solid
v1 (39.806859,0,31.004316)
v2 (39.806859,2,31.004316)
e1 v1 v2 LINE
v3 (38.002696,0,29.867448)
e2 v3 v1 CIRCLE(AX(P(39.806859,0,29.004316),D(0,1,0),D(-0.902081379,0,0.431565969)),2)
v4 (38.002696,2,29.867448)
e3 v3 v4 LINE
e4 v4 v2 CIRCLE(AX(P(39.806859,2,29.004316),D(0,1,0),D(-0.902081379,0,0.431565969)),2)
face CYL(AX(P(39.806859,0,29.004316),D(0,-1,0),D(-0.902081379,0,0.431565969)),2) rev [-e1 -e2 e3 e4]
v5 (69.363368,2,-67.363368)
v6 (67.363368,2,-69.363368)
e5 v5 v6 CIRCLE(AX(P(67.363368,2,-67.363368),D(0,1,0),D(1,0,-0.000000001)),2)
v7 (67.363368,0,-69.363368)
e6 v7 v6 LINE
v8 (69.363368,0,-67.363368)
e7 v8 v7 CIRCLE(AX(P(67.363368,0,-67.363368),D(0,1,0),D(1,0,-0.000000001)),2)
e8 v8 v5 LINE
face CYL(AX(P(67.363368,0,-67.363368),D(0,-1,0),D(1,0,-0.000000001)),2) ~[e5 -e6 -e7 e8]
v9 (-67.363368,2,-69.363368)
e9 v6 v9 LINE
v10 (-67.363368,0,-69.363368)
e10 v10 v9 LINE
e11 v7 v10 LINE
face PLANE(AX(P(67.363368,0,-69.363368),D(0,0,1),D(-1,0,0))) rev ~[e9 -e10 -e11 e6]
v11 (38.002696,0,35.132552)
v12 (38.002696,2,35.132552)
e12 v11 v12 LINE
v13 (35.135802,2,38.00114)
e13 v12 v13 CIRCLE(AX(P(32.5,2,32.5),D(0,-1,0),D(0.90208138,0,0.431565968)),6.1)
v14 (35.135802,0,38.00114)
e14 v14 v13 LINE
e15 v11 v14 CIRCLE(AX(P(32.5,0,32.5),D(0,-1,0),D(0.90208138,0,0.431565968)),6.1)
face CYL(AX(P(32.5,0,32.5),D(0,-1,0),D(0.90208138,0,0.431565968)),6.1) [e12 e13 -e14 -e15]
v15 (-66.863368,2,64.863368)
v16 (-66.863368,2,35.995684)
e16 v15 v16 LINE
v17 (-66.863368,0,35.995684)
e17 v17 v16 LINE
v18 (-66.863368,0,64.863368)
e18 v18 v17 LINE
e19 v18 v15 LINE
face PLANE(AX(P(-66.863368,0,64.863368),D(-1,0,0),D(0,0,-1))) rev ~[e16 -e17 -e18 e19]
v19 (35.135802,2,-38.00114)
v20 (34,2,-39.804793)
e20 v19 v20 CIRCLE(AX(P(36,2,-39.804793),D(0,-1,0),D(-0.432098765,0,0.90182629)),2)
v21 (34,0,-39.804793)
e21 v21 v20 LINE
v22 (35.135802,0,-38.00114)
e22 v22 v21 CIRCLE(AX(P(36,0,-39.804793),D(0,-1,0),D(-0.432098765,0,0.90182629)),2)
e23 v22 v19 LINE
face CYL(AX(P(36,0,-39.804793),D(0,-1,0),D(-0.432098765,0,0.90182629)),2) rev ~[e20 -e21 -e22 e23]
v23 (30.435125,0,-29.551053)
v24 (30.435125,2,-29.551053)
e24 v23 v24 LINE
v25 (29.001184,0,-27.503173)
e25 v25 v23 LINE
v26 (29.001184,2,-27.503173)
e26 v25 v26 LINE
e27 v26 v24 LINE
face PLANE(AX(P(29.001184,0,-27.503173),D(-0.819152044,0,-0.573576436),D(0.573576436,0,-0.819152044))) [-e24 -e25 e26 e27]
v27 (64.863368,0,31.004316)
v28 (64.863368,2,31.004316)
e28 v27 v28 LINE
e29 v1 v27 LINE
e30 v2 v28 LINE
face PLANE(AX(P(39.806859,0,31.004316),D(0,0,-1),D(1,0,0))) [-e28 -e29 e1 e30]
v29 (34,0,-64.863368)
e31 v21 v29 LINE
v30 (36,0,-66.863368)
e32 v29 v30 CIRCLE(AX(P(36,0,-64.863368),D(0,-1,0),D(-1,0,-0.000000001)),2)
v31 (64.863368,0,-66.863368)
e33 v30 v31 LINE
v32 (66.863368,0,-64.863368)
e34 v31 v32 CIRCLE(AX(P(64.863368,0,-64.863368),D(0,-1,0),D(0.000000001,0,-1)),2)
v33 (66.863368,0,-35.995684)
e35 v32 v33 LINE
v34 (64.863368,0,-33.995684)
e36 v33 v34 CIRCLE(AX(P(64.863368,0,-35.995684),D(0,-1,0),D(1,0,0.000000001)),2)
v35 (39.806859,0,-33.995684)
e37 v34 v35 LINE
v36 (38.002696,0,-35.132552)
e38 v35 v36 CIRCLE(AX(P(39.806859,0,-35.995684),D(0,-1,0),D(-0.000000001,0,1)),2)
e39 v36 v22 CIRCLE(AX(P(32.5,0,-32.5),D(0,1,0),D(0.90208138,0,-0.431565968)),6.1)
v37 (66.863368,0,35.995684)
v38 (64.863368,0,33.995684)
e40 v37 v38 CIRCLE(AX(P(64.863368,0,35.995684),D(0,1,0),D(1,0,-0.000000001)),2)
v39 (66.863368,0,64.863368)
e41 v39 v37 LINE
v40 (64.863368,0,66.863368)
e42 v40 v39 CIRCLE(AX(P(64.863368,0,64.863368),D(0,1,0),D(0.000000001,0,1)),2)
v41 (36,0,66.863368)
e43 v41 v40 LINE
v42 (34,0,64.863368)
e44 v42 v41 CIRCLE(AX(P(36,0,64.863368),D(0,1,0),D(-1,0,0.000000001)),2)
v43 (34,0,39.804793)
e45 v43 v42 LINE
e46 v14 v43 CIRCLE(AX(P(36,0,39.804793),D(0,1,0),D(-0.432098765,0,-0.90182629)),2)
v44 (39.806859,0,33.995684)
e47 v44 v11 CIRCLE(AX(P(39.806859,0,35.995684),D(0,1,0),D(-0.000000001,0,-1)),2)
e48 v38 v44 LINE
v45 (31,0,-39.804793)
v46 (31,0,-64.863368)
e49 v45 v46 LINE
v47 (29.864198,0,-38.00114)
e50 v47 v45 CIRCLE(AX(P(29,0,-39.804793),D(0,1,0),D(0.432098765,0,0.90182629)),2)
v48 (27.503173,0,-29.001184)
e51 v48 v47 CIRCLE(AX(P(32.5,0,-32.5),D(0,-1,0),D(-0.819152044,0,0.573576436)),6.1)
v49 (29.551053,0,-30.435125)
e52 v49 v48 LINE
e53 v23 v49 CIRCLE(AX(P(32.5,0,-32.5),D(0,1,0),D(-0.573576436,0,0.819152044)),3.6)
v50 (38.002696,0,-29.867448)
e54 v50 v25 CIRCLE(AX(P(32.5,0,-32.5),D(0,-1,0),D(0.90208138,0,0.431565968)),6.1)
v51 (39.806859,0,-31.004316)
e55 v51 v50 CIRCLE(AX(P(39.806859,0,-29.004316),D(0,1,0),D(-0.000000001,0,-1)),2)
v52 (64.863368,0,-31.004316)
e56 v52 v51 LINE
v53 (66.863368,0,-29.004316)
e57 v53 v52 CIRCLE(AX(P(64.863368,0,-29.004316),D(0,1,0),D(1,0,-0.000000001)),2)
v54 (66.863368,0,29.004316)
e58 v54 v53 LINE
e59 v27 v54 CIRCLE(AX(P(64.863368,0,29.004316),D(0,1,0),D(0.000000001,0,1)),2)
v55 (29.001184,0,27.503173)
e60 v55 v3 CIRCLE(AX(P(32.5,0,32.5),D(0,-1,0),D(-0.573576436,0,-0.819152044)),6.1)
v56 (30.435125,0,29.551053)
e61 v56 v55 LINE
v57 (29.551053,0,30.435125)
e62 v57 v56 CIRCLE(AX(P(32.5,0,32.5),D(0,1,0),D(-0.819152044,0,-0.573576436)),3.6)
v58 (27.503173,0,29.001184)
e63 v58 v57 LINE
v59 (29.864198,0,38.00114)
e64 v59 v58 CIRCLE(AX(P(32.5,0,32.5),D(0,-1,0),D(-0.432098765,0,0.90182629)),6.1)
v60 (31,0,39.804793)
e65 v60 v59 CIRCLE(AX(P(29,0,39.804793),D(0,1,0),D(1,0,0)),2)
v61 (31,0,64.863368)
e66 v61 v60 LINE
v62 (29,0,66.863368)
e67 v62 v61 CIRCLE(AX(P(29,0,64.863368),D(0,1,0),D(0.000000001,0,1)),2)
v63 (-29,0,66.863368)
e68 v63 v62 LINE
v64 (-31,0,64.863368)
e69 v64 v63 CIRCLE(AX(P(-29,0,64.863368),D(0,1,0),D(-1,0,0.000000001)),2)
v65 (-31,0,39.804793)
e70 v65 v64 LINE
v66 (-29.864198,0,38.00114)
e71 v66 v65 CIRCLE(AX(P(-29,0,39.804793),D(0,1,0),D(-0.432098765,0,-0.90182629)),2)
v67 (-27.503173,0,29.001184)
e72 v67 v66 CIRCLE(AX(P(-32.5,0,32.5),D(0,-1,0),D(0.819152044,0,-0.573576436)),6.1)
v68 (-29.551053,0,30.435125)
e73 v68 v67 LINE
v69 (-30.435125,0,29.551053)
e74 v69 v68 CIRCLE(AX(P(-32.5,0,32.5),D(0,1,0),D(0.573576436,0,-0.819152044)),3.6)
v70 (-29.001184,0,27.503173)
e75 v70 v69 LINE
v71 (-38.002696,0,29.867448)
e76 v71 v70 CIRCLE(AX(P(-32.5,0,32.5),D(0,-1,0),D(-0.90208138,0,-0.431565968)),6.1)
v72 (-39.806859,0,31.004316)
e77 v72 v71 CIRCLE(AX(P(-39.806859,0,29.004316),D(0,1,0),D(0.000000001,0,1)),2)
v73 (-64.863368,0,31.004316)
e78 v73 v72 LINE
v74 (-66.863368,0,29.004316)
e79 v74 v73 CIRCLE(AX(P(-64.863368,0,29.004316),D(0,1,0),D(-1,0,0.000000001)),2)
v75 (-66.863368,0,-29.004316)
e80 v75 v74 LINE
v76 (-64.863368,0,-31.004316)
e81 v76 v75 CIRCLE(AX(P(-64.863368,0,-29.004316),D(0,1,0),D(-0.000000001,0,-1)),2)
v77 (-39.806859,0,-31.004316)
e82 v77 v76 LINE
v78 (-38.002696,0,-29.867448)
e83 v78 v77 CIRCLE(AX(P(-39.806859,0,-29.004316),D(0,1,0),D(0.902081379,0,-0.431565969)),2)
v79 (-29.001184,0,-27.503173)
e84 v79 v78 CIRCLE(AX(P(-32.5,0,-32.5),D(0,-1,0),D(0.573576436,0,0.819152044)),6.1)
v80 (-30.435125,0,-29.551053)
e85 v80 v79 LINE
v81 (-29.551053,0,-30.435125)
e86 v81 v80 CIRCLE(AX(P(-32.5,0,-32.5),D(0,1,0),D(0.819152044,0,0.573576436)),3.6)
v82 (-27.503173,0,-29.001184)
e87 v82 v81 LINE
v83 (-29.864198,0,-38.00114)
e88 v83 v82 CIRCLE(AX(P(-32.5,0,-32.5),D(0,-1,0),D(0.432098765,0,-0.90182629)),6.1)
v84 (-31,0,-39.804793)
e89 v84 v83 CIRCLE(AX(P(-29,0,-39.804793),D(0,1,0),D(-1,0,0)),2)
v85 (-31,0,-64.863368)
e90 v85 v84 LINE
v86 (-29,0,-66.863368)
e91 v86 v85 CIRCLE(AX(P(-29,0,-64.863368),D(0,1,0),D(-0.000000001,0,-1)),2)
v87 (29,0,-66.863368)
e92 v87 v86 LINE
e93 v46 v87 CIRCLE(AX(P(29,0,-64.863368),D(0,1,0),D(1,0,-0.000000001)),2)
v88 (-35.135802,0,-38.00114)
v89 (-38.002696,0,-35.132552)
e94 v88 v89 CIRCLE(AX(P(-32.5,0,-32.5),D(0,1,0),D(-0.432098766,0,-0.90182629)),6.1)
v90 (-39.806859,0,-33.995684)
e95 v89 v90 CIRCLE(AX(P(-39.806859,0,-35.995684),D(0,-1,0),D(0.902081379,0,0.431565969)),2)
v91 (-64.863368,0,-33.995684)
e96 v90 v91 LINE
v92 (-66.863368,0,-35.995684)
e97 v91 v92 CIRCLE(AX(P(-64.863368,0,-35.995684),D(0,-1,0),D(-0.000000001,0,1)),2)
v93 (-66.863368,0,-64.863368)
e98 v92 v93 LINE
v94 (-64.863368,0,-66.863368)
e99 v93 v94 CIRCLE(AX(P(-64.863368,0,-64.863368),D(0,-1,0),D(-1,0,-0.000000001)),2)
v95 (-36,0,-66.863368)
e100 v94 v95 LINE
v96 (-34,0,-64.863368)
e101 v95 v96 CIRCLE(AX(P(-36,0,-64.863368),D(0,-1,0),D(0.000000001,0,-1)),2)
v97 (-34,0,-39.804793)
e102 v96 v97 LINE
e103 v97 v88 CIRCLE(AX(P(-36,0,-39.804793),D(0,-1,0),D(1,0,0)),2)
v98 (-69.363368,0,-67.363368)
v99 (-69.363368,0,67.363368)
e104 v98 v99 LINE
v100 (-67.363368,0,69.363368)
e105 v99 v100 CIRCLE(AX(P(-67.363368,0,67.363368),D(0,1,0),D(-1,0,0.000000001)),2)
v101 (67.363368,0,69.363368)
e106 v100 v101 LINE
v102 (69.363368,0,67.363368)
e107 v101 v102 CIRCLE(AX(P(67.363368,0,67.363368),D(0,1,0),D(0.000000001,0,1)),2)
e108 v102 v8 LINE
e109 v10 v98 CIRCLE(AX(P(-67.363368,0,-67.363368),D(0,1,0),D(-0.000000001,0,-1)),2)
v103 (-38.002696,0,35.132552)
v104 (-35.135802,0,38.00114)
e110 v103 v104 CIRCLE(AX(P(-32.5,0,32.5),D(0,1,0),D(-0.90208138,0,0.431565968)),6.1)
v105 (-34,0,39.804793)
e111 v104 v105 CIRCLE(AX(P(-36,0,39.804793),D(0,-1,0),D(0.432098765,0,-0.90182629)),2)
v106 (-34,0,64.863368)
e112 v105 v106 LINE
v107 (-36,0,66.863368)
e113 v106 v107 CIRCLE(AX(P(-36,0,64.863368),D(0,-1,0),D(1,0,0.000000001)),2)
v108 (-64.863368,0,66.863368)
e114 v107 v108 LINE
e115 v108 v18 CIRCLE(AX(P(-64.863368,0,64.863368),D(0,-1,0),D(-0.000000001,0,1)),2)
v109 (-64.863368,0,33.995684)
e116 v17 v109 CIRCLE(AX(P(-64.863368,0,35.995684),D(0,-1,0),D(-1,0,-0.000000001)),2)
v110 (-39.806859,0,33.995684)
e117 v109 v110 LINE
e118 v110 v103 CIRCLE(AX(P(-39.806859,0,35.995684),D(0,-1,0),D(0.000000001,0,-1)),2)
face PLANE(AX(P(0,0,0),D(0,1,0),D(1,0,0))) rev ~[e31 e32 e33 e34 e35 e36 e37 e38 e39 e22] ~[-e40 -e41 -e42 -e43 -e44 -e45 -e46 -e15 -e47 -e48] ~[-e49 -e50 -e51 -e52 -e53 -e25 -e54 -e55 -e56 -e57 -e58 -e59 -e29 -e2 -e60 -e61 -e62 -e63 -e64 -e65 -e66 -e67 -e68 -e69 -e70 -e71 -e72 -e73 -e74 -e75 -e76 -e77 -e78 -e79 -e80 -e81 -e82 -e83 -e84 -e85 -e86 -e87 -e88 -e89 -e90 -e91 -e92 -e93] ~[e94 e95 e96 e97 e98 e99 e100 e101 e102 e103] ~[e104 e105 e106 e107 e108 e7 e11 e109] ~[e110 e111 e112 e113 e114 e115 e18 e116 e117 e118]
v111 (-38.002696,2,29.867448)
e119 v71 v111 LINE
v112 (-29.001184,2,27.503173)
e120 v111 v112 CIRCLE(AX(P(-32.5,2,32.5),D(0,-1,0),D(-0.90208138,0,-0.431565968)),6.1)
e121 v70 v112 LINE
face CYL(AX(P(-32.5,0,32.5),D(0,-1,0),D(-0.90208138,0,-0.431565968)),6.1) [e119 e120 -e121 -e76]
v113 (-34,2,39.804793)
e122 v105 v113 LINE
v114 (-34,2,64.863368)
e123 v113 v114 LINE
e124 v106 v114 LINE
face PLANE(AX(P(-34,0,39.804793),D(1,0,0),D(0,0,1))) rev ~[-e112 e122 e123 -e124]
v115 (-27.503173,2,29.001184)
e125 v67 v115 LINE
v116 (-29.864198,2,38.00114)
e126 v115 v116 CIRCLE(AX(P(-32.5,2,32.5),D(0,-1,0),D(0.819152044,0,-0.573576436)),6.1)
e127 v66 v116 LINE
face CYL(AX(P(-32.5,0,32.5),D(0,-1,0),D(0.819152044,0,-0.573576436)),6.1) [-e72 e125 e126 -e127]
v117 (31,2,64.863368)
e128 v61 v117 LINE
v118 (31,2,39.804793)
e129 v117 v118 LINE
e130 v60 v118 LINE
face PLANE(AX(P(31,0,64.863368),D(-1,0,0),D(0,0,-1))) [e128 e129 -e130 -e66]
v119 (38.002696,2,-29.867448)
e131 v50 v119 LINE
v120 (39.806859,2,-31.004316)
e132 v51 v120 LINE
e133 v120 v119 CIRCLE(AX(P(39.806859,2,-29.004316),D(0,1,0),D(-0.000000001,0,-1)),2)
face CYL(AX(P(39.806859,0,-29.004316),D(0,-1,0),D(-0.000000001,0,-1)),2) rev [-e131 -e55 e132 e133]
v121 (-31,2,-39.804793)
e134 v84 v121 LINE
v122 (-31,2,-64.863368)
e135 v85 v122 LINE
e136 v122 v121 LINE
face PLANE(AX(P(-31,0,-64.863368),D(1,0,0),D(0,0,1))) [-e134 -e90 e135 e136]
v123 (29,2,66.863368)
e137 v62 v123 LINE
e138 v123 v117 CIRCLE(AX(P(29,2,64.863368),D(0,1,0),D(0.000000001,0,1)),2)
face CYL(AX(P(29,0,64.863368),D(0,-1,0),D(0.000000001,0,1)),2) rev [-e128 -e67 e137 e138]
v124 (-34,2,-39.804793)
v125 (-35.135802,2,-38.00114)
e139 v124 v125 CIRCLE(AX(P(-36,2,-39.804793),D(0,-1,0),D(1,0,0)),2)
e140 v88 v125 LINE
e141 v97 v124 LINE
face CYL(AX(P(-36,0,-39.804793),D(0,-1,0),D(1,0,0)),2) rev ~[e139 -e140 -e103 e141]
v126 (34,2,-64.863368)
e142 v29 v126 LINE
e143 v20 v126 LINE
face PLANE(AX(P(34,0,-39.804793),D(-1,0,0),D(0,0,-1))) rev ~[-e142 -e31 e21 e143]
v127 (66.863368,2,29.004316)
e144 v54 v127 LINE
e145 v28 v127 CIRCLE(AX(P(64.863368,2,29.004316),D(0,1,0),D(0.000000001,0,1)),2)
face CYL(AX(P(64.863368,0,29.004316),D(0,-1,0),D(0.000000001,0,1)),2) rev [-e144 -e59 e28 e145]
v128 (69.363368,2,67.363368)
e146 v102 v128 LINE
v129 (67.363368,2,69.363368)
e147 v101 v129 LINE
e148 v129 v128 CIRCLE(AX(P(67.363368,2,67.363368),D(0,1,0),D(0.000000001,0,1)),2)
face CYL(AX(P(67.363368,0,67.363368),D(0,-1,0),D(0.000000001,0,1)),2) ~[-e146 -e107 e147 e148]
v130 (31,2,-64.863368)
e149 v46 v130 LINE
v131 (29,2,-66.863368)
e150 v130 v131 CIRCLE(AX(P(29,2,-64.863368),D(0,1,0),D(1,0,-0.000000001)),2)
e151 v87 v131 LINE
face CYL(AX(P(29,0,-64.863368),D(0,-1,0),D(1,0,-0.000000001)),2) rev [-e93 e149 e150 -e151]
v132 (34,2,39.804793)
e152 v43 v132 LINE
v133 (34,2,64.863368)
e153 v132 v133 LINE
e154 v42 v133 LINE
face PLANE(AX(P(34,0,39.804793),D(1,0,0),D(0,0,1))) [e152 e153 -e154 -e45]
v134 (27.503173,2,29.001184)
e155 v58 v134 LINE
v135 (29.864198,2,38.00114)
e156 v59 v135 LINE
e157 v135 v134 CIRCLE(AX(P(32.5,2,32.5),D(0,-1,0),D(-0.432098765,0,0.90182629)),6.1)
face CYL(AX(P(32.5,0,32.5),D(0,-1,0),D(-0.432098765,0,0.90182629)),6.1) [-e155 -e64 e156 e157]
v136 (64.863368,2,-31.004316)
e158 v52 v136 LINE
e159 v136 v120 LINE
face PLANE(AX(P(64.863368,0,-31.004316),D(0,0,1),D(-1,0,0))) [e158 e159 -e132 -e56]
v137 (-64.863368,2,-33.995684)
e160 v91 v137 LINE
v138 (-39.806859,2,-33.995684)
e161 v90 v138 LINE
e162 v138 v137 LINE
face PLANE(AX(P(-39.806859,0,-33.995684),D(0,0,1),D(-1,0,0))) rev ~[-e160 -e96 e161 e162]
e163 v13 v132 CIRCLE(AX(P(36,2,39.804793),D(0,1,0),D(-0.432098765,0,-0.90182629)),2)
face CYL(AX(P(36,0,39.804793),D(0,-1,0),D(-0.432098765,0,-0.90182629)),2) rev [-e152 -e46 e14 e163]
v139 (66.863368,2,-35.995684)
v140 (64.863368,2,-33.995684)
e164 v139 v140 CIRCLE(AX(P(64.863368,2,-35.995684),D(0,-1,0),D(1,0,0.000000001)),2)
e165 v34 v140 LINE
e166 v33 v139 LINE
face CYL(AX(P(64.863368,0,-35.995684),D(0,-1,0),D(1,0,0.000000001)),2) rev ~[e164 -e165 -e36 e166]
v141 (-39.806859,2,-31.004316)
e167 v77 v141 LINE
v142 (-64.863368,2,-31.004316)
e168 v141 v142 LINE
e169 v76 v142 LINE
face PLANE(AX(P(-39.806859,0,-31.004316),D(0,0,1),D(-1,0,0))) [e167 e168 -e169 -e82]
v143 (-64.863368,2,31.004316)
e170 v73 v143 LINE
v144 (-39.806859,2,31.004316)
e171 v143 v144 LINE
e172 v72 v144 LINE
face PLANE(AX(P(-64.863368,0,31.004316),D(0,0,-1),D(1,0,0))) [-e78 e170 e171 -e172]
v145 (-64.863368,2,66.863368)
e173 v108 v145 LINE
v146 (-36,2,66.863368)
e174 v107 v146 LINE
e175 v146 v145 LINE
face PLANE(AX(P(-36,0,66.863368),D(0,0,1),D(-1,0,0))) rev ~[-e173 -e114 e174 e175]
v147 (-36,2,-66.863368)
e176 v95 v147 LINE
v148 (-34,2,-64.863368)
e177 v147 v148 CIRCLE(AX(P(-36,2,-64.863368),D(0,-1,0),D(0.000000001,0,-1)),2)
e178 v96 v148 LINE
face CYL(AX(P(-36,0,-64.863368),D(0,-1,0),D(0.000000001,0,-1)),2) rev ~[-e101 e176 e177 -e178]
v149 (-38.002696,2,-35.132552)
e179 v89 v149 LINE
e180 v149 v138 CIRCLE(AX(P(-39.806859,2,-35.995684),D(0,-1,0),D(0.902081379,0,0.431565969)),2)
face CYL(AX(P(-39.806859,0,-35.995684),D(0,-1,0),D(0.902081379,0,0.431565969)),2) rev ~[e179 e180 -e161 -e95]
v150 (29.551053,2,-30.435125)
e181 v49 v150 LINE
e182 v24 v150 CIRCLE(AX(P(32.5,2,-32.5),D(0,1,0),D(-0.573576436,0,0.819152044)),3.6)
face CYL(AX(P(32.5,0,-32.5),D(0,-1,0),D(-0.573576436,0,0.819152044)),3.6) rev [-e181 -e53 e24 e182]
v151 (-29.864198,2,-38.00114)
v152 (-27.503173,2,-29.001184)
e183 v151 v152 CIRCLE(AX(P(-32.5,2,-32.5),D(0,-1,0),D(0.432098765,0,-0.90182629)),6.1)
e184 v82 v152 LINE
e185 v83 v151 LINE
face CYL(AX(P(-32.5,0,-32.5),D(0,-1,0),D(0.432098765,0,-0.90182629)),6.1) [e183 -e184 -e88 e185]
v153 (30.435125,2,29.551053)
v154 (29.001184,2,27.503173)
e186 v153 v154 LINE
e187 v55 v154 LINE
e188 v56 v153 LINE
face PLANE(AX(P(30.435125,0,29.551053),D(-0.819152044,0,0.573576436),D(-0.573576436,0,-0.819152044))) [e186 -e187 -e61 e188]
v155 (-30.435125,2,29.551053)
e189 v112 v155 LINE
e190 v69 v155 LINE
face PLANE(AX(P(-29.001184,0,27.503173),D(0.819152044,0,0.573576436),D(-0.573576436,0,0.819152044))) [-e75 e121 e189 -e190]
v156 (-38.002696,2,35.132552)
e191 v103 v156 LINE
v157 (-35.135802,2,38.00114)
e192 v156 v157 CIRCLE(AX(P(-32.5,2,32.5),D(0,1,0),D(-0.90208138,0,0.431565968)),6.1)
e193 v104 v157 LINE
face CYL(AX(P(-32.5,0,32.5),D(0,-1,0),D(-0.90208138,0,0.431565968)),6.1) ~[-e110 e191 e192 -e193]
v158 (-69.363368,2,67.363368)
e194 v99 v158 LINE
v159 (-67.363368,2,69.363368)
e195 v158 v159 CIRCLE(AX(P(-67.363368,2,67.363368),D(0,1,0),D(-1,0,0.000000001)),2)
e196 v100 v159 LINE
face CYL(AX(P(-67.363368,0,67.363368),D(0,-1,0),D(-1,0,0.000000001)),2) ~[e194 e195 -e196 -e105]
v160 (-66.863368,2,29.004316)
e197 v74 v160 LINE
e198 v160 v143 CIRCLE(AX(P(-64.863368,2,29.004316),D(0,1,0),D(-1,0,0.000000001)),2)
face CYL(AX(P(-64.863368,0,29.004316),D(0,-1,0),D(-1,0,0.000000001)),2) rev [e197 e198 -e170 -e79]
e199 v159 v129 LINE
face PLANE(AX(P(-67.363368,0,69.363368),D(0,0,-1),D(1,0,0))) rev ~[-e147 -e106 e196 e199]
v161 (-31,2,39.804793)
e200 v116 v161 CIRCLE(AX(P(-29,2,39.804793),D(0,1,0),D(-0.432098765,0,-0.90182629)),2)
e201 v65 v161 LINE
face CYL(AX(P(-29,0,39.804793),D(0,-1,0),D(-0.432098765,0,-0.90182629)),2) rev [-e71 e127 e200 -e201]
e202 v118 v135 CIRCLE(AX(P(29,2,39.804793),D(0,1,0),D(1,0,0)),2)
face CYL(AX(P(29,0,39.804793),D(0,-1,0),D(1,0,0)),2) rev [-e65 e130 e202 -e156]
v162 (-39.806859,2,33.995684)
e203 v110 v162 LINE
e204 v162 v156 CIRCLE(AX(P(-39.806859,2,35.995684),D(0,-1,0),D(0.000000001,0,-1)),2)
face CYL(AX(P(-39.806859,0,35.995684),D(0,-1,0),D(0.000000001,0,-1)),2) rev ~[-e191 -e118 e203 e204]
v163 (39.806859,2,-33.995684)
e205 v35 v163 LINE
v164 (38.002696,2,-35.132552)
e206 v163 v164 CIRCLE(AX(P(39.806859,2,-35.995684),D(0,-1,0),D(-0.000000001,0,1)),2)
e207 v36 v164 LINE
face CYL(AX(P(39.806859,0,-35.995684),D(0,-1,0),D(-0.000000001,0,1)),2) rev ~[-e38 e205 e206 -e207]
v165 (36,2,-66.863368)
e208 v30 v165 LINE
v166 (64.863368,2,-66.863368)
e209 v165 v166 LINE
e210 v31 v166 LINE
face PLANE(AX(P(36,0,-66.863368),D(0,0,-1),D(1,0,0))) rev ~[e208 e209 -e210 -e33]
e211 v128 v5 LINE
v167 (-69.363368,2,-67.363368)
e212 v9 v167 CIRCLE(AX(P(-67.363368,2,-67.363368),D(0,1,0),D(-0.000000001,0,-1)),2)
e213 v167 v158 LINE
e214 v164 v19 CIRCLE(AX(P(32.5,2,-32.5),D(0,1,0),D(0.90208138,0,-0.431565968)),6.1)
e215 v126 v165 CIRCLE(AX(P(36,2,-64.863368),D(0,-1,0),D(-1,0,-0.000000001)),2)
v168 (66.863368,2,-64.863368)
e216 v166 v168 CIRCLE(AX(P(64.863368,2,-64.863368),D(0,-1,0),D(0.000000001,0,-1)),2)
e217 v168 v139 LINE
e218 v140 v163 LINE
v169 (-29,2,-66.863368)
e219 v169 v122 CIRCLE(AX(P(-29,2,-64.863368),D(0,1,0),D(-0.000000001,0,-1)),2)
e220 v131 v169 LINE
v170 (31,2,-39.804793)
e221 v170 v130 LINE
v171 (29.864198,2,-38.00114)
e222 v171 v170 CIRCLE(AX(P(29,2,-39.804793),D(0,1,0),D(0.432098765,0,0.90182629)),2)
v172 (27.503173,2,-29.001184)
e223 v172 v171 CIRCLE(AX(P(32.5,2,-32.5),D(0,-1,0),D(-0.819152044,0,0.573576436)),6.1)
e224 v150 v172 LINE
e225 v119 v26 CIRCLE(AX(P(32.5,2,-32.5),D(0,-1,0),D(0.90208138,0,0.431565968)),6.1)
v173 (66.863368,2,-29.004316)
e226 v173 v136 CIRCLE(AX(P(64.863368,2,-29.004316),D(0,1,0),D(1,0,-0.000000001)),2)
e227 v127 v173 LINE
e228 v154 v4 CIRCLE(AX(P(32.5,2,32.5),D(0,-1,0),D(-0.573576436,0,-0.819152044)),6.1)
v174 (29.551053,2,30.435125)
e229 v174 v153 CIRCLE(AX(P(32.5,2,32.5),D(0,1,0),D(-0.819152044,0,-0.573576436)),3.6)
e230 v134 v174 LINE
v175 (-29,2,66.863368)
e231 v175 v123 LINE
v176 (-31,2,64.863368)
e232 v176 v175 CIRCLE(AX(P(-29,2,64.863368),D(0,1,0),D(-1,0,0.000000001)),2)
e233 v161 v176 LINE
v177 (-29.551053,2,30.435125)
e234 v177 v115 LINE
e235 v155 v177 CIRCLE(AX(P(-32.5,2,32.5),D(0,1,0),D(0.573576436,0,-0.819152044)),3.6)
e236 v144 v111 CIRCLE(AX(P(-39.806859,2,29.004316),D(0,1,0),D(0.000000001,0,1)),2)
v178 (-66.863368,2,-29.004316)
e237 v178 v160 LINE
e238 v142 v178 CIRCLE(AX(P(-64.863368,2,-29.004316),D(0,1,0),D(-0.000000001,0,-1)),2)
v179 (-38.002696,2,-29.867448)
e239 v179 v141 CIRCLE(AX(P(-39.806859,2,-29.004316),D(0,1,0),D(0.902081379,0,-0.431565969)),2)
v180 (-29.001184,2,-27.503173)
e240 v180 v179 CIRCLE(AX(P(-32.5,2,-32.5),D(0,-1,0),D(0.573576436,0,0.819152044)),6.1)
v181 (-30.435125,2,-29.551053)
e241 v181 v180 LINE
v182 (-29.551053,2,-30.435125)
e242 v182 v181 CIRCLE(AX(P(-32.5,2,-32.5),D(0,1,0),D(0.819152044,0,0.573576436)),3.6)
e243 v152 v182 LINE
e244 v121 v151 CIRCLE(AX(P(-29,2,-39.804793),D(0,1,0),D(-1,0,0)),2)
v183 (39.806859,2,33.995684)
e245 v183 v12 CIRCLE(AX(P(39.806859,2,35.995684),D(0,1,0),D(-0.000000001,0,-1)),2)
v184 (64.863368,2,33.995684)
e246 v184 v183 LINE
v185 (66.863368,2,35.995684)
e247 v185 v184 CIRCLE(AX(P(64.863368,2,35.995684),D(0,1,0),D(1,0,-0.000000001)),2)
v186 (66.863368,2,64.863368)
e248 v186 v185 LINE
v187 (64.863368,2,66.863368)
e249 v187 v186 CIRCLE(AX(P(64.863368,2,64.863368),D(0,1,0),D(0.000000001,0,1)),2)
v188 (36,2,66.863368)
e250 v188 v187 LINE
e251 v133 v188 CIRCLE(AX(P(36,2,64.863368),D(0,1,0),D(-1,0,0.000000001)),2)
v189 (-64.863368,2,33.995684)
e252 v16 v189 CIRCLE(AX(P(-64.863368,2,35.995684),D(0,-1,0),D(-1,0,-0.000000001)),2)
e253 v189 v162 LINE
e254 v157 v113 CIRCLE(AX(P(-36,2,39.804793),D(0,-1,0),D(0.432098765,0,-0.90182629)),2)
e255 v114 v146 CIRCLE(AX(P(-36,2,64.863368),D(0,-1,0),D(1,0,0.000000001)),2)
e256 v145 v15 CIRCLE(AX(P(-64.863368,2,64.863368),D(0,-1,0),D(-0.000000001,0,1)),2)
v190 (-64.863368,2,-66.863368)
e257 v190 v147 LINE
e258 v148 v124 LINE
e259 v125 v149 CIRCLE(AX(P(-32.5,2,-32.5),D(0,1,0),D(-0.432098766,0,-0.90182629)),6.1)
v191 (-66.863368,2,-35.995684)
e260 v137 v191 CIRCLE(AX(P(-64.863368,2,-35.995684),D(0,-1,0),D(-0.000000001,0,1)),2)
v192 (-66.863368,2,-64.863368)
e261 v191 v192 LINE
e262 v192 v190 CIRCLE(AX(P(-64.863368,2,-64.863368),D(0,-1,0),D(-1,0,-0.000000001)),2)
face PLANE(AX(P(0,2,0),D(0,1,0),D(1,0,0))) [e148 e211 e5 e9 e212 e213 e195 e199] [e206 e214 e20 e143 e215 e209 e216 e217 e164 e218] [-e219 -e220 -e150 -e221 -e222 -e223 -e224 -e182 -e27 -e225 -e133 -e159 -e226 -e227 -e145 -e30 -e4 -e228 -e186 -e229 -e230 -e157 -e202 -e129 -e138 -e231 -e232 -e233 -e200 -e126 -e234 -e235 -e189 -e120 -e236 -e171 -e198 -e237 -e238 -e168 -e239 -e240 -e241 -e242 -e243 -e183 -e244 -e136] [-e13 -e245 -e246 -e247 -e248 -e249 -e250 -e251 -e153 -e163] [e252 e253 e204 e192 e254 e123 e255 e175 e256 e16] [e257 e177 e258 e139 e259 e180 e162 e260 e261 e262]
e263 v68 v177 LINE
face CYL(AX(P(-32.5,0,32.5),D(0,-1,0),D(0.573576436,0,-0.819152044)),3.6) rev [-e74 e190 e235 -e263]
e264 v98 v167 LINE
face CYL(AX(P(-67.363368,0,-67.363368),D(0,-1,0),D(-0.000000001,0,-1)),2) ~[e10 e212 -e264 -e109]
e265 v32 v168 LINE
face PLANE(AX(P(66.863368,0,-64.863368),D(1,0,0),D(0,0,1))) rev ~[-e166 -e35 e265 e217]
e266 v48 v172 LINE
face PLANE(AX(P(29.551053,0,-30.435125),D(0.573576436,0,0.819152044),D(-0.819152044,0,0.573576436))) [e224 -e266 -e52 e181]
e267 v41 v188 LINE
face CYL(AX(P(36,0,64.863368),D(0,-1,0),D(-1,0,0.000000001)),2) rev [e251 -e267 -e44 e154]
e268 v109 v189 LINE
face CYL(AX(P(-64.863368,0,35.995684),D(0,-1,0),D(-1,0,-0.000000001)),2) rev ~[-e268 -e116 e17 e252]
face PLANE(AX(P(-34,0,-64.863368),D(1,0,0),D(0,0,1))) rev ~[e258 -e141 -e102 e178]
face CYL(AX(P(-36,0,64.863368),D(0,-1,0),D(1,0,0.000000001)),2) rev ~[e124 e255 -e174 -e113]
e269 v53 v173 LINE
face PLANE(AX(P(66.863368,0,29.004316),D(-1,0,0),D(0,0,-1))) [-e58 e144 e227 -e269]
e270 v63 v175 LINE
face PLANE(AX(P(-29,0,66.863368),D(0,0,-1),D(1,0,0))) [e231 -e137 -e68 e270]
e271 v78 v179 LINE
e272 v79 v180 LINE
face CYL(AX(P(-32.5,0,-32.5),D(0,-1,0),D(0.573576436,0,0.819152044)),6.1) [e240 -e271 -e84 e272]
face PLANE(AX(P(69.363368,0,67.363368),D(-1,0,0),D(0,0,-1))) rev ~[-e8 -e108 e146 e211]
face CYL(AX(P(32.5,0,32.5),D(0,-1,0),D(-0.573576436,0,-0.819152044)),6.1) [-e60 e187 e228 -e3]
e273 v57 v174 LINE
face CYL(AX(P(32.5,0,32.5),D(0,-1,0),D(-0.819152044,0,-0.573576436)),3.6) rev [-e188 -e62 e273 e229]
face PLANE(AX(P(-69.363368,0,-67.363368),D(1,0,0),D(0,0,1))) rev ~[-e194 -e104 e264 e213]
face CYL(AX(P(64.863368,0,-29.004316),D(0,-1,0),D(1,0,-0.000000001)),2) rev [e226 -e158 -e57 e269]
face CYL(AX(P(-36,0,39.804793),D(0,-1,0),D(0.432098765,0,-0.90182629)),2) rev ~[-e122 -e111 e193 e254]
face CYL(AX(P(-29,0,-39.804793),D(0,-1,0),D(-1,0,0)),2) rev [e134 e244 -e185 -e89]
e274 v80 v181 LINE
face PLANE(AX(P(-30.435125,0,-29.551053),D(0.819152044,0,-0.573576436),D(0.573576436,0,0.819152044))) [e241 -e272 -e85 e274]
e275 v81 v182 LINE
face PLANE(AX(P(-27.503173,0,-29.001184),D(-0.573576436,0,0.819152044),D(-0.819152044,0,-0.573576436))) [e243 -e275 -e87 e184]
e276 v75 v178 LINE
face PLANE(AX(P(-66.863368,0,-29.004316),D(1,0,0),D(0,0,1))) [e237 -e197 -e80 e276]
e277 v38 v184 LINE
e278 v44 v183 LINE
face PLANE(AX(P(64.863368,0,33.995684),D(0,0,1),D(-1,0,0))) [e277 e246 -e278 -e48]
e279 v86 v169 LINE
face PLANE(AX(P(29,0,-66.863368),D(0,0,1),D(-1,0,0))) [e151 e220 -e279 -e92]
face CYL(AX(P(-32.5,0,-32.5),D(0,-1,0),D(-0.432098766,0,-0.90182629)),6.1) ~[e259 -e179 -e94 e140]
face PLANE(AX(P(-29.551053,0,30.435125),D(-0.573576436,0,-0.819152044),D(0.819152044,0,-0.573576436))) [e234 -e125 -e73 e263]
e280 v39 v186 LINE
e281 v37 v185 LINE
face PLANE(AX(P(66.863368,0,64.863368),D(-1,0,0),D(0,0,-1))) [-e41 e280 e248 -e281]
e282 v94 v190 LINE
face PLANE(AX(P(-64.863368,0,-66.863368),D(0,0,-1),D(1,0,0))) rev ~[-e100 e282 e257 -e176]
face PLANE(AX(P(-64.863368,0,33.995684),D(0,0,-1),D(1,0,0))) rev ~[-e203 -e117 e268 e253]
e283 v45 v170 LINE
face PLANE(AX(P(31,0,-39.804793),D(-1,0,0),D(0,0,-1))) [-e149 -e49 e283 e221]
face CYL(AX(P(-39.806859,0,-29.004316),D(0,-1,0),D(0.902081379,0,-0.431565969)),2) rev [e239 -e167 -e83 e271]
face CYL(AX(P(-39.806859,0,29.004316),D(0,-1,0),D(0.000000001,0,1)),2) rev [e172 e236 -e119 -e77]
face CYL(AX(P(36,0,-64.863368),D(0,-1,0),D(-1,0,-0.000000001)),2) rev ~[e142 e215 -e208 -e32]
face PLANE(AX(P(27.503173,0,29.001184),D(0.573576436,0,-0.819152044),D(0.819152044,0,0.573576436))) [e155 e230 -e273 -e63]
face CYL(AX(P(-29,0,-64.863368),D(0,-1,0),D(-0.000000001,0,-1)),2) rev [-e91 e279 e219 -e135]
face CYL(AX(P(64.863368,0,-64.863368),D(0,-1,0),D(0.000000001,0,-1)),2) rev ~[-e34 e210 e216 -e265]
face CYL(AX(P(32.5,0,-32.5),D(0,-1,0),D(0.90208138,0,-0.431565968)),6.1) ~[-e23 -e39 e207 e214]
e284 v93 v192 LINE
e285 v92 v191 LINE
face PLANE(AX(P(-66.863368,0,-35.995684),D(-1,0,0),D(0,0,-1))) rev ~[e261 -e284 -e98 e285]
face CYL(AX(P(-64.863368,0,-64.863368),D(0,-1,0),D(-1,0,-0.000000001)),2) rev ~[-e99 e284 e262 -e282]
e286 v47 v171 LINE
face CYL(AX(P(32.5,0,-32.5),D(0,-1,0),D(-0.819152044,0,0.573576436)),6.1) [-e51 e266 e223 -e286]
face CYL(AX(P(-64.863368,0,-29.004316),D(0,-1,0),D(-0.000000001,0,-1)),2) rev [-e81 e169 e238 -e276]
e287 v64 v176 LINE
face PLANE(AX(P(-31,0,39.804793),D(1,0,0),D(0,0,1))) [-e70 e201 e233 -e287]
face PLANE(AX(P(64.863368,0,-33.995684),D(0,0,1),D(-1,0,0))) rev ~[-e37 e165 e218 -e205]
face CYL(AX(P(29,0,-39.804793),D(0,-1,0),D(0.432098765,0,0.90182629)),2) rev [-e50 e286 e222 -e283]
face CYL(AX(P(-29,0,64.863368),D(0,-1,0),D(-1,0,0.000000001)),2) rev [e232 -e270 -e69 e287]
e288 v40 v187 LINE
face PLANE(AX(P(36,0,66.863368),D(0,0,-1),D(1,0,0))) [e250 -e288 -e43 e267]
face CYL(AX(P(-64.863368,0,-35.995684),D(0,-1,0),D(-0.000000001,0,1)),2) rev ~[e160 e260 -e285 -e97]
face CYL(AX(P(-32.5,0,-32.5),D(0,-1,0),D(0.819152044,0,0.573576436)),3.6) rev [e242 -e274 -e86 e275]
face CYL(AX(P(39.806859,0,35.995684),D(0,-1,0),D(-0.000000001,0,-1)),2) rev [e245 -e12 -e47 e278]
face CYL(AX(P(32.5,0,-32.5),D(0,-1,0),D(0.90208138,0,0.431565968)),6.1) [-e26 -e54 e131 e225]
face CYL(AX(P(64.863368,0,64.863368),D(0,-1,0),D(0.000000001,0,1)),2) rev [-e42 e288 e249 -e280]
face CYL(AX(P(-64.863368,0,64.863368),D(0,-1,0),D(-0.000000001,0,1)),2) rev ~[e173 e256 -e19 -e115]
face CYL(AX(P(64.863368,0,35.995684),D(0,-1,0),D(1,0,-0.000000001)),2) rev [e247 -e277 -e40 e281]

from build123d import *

# Parameters (mm, degrees)
BOSS_EXTRUDE2_DEPTH = 2


with BuildPart() as part:
    # Sketch1 → Boss-Extrude2 (new body)
    with BuildSketch(Plane(origin=(0, 0, 0), x_dir=(1, 0, 0), z_dir=(0, 1, 0))):
        with BuildLine():
            Line((69.363368179, -67.363368179), (69.363368179, 67.363368179))
            ThreePointArc((69.363368179, 67.363368179), (68.777581741, 68.777581741), (67.363368179, 69.363368179))
            Line((67.363368179, 69.363368179), (-67.363368179, 69.363368179))
            ThreePointArc((-67.363368179, 69.363368179), (-68.777581741, 68.777581741), (-69.363368179, 67.363368179))
            Line((-69.363368179, 67.363368179), (-69.363368179, -67.363368179))
            ThreePointArc((-69.363368179, -67.363368179), (-68.777581741, -68.777581741), (-67.363368179, -69.363368179))
            Line((-67.363368179, -69.363368179), (67.363368179, -69.363368179))
            ThreePointArc((67.363368179, -69.363368179), (68.777581741, -68.777581741), (69.363368179, -67.363368179))
        make_face()
        with BuildLine():
            Line((66.863368179, -64.863368179), (66.863368179, -35.99568434))
            ThreePointArc((66.863368179, -35.99568434), (66.277581741, -34.581470778), (64.863368179, -33.99568434))
            Line((64.863368179, -33.99568434), (39.806859174, -33.99568434))
            ThreePointArc((39.806859174, -33.99568434), (38.740619021, -34.303605165), (38.002696415, -35.132552404))
            ThreePointArc((38.002696415, -35.132552404), (36.814625157, -36.812077197), (35.135802469, -38.001140368))
            ThreePointArc((35.135802469, -38.001140368), (34.307605976, -38.739052609), (34, -39.804792947))
            Line((34, -39.804792947), (34, -64.863368179))
            ThreePointArc((34, -64.863368179), (34.585786438, -66.277581741), (36, -66.863368179))
            Line((36, -66.863368179), (64.863368179, -66.863368179))
            ThreePointArc((64.863368179, -66.863368179), (66.277581741, -66.277581741), (66.863368179, -64.863368179))
        make_face(mode=Mode.SUBTRACT)
        with BuildLine():
            Line((-64.863368179, 66.863368179), (-36, 66.863368179))
            ThreePointArc((-36, 66.863368179), (-34.585786438, 66.277581741), (-34, 64.863368179))
            Line((-34, 64.863368179), (-34, 39.804792947))
            ThreePointArc((-34, 39.804792947), (-34.307605976, 38.739052609), (-35.135802469, 38.001140368))
            ThreePointArc((-35.135802469, 38.001140368), (-36.814625157, 36.812077197), (-38.002696415, 35.132552404))
            ThreePointArc((-38.002696415, 35.132552404), (-38.740619021, 34.303605165), (-39.806859174, 33.99568434))
            Line((-39.806859174, 33.99568434), (-64.863368179, 33.99568434))
            ThreePointArc((-64.863368179, 33.99568434), (-66.277581741, 34.581470778), (-66.863368179, 35.99568434))
            Line((-66.863368179, 35.99568434), (-66.863368179, 64.863368179))
            ThreePointArc((-66.863368179, 64.863368179), (-66.277581741, 66.277581741), (-64.863368179, 66.863368179))
        make_face(mode=Mode.SUBTRACT)
        with BuildLine():
            Line((-66.863368179, -64.863368179), (-66.863368179, -35.99568434))
            ThreePointArc((-66.863368179, -35.99568434), (-66.277581741, -34.581470778), (-64.863368179, -33.99568434))
            Line((-64.863368179, -33.99568434), (-39.806859174, -33.99568434))
            ThreePointArc((-39.806859174, -33.99568434), (-38.740619021, -34.303605165), (-38.002696415, -35.132552404))
            ThreePointArc((-38.002696415, -35.132552404), (-36.814625157, -36.812077197), (-35.135802469, -38.001140368))
            ThreePointArc((-35.135802469, -38.001140368), (-34.307605976, -38.739052609), (-34, -39.804792947))
            Line((-34, -39.804792947), (-34, -64.863368179))
            ThreePointArc((-34, -64.863368179), (-34.585786438, -66.277581741), (-36, -66.863368179))
            Line((-36, -66.863368179), (-64.863368179, -66.863368179))
            ThreePointArc((-64.863368179, -66.863368179), (-66.277581741, -66.277581741), (-66.863368179, -64.863368179))
        make_face(mode=Mode.SUBTRACT)
        with BuildLine():
            Line((36, 66.863368179), (64.863368179, 66.863368179))
            ThreePointArc((64.863368179, 66.863368179), (66.277581741, 66.277581741), (66.863368179, 64.863368179))
            Line((66.863368179, 64.863368179), (66.863368179, 35.99568434))
            ThreePointArc((66.863368179, 35.99568434), (66.277581741, 34.581470778), (64.863368179, 33.99568434))
            Line((64.863368179, 33.99568434), (39.806859174, 33.99568434))
            ThreePointArc((39.806859174, 33.99568434), (38.740619021, 34.303605165), (38.002696415, 35.132552404))
            ThreePointArc((38.002696415, 35.132552404), (36.814625157, 36.812077197), (35.135802469, 38.001140368))
            ThreePointArc((35.135802469, 38.001140368), (34.307605976, 38.739052609), (34, 39.804792947))
            Line((34, 39.804792947), (34, 64.863368179))
            ThreePointArc((34, 64.863368179), (34.585786438, 66.277581741), (36, 66.863368179))
        make_face(mode=Mode.SUBTRACT)
        with BuildLine():
            Line((-30.435124829, 29.551052641), (-29.001183738, 27.50317253))
            ThreePointArc((-29.001183738, 27.50317253), (-34.049623523, 26.600112973), (-38.002696415, 29.867447596))
            ThreePointArc((-38.002696415, 29.867447596), (-38.740619021, 30.696394835), (-39.806859174, 31.00431566))
            Line((-39.806859174, 31.00431566), (-64.863368179, 31.00431566))
            ThreePointArc((-64.863368179, 31.00431566), (-66.277581741, 30.418529222), (-66.863368179, 29.00431566))
            Line((-66.863368179, 29.00431566), (-66.863368179, -29.00431566))
            ThreePointArc((-66.863368179, -29.00431566), (-66.277581741, -30.418529222), (-64.863368179, -31.00431566))
            Line((-64.863368179, -31.00431566), (-39.806859174, -31.00431566))
            ThreePointArc((-39.806859174, -31.00431566), (-38.740619021, -30.696394835), (-38.002696415, -29.867447596))
            ThreePointArc((-38.002696415, -29.867447596), (-34.049623523, -26.600112973), (-29.001183738, -27.50317253))
            Line((-29.001183738, -27.50317253), (-30.435124829, -29.551052641))
            ThreePointArc((-30.435124829, -29.551052641), (-35.045584412, -35.045584412), (-29.551052641, -30.435124829))
            Line((-29.551052641, -30.435124829), (-27.50317253, -29.001183738))
            ThreePointArc((-27.50317253, -29.001183738), (-26.599655537, -34.04788088), (-29.864197531, -38.001140368))
            ThreePointArc((-29.864197531, -38.001140368), (-30.692394024, -38.739052609), (-31, -39.804792947))
            Line((-31, -39.804792947), (-31, -64.863368179))
            ThreePointArc((-31, -64.863368179), (-30.414213562, -66.277581741), (-29, -66.863368179))
            Line((-29, -66.863368179), (29, -66.863368179))
            ThreePointArc((29, -66.863368179), (30.414213562, -66.277581741), (31, -64.863368179))
            Line((31, -64.863368179), (31, -39.804792947))
            ThreePointArc((31, -39.804792947), (30.692394024, -38.739052609), (29.864197531, -38.001140368))
            ThreePointArc((29.864197531, -38.001140368), (26.599655537, -34.04788088), (27.50317253, -29.001183738))
            Line((27.50317253, -29.001183738), (29.551052641, -30.435124829))
            ThreePointArc((29.551052641, -30.435124829), (35.045584412, -35.045584412), (30.435124829, -29.551052641))
            Line((30.435124829, -29.551052641), (29.001183738, -27.50317253))
            ThreePointArc((29.001183738, -27.50317253), (34.049623523, -26.600112973), (38.002696415, -29.867447596))
            ThreePointArc((38.002696415, -29.867447596), (38.740619021, -30.696394835), (39.806859174, -31.00431566))
            Line((39.806859174, -31.00431566), (64.863368179, -31.00431566))
            ThreePointArc((64.863368179, -31.00431566), (66.277581741, -30.418529222), (66.863368179, -29.00431566))
            Line((66.863368179, -29.00431566), (66.863368179, 29.00431566))
            ThreePointArc((66.863368179, 29.00431566), (66.277581741, 30.418529222), (64.863368179, 31.00431566))
            Line((64.863368179, 31.00431566), (39.806859174, 31.00431566))
            ThreePointArc((39.806859174, 31.00431566), (38.740619021, 30.696394835), (38.002696415, 29.867447596))
            ThreePointArc((38.002696415, 29.867447596), (34.049623523, 26.600112973), (29.001183738, 27.50317253))
            Line((29.001183738, 27.50317253), (30.435124829, 29.551052641))
            ThreePointArc((30.435124829, 29.551052641), (35.045584412, 35.045584412), (29.551052641, 30.435124829))
            Line((29.551052641, 30.435124829), (27.50317253, 29.001183738))
            ThreePointArc((27.50317253, 29.001183738), (26.599655537, 34.04788088), (29.864197531, 38.001140368))
            ThreePointArc((29.864197531, 38.001140368), (30.692394024, 38.739052609), (31, 39.804792947))
            Line((31, 39.804792947), (31, 64.863368179))
            ThreePointArc((31, 64.863368179), (30.414213562, 66.277581741), (29, 66.863368179))
            Line((29, 66.863368179), (-29, 66.863368179))
            ThreePointArc((-29, 66.863368179), (-30.414213562, 66.277581741), (-31, 64.863368179))
            Line((-31, 64.863368179), (-31, 39.804792947))
            ThreePointArc((-31, 39.804792947), (-30.692394024, 38.739052609), (-29.864197531, 38.001140368))
            ThreePointArc((-29.864197531, 38.001140368), (-26.599655537, 34.04788088), (-27.50317253, 29.001183738))
            Line((-27.50317253, 29.001183738), (-29.551052641, 30.435124829))
            ThreePointArc((-29.551052641, 30.435124829), (-35.045584412, 35.045584412), (-30.435124829, 29.551052641))
        make_face(mode=Mode.SUBTRACT)
    extrude(amount=BOSS_EXTRUDE2_DEPTH)


solid = part.part
